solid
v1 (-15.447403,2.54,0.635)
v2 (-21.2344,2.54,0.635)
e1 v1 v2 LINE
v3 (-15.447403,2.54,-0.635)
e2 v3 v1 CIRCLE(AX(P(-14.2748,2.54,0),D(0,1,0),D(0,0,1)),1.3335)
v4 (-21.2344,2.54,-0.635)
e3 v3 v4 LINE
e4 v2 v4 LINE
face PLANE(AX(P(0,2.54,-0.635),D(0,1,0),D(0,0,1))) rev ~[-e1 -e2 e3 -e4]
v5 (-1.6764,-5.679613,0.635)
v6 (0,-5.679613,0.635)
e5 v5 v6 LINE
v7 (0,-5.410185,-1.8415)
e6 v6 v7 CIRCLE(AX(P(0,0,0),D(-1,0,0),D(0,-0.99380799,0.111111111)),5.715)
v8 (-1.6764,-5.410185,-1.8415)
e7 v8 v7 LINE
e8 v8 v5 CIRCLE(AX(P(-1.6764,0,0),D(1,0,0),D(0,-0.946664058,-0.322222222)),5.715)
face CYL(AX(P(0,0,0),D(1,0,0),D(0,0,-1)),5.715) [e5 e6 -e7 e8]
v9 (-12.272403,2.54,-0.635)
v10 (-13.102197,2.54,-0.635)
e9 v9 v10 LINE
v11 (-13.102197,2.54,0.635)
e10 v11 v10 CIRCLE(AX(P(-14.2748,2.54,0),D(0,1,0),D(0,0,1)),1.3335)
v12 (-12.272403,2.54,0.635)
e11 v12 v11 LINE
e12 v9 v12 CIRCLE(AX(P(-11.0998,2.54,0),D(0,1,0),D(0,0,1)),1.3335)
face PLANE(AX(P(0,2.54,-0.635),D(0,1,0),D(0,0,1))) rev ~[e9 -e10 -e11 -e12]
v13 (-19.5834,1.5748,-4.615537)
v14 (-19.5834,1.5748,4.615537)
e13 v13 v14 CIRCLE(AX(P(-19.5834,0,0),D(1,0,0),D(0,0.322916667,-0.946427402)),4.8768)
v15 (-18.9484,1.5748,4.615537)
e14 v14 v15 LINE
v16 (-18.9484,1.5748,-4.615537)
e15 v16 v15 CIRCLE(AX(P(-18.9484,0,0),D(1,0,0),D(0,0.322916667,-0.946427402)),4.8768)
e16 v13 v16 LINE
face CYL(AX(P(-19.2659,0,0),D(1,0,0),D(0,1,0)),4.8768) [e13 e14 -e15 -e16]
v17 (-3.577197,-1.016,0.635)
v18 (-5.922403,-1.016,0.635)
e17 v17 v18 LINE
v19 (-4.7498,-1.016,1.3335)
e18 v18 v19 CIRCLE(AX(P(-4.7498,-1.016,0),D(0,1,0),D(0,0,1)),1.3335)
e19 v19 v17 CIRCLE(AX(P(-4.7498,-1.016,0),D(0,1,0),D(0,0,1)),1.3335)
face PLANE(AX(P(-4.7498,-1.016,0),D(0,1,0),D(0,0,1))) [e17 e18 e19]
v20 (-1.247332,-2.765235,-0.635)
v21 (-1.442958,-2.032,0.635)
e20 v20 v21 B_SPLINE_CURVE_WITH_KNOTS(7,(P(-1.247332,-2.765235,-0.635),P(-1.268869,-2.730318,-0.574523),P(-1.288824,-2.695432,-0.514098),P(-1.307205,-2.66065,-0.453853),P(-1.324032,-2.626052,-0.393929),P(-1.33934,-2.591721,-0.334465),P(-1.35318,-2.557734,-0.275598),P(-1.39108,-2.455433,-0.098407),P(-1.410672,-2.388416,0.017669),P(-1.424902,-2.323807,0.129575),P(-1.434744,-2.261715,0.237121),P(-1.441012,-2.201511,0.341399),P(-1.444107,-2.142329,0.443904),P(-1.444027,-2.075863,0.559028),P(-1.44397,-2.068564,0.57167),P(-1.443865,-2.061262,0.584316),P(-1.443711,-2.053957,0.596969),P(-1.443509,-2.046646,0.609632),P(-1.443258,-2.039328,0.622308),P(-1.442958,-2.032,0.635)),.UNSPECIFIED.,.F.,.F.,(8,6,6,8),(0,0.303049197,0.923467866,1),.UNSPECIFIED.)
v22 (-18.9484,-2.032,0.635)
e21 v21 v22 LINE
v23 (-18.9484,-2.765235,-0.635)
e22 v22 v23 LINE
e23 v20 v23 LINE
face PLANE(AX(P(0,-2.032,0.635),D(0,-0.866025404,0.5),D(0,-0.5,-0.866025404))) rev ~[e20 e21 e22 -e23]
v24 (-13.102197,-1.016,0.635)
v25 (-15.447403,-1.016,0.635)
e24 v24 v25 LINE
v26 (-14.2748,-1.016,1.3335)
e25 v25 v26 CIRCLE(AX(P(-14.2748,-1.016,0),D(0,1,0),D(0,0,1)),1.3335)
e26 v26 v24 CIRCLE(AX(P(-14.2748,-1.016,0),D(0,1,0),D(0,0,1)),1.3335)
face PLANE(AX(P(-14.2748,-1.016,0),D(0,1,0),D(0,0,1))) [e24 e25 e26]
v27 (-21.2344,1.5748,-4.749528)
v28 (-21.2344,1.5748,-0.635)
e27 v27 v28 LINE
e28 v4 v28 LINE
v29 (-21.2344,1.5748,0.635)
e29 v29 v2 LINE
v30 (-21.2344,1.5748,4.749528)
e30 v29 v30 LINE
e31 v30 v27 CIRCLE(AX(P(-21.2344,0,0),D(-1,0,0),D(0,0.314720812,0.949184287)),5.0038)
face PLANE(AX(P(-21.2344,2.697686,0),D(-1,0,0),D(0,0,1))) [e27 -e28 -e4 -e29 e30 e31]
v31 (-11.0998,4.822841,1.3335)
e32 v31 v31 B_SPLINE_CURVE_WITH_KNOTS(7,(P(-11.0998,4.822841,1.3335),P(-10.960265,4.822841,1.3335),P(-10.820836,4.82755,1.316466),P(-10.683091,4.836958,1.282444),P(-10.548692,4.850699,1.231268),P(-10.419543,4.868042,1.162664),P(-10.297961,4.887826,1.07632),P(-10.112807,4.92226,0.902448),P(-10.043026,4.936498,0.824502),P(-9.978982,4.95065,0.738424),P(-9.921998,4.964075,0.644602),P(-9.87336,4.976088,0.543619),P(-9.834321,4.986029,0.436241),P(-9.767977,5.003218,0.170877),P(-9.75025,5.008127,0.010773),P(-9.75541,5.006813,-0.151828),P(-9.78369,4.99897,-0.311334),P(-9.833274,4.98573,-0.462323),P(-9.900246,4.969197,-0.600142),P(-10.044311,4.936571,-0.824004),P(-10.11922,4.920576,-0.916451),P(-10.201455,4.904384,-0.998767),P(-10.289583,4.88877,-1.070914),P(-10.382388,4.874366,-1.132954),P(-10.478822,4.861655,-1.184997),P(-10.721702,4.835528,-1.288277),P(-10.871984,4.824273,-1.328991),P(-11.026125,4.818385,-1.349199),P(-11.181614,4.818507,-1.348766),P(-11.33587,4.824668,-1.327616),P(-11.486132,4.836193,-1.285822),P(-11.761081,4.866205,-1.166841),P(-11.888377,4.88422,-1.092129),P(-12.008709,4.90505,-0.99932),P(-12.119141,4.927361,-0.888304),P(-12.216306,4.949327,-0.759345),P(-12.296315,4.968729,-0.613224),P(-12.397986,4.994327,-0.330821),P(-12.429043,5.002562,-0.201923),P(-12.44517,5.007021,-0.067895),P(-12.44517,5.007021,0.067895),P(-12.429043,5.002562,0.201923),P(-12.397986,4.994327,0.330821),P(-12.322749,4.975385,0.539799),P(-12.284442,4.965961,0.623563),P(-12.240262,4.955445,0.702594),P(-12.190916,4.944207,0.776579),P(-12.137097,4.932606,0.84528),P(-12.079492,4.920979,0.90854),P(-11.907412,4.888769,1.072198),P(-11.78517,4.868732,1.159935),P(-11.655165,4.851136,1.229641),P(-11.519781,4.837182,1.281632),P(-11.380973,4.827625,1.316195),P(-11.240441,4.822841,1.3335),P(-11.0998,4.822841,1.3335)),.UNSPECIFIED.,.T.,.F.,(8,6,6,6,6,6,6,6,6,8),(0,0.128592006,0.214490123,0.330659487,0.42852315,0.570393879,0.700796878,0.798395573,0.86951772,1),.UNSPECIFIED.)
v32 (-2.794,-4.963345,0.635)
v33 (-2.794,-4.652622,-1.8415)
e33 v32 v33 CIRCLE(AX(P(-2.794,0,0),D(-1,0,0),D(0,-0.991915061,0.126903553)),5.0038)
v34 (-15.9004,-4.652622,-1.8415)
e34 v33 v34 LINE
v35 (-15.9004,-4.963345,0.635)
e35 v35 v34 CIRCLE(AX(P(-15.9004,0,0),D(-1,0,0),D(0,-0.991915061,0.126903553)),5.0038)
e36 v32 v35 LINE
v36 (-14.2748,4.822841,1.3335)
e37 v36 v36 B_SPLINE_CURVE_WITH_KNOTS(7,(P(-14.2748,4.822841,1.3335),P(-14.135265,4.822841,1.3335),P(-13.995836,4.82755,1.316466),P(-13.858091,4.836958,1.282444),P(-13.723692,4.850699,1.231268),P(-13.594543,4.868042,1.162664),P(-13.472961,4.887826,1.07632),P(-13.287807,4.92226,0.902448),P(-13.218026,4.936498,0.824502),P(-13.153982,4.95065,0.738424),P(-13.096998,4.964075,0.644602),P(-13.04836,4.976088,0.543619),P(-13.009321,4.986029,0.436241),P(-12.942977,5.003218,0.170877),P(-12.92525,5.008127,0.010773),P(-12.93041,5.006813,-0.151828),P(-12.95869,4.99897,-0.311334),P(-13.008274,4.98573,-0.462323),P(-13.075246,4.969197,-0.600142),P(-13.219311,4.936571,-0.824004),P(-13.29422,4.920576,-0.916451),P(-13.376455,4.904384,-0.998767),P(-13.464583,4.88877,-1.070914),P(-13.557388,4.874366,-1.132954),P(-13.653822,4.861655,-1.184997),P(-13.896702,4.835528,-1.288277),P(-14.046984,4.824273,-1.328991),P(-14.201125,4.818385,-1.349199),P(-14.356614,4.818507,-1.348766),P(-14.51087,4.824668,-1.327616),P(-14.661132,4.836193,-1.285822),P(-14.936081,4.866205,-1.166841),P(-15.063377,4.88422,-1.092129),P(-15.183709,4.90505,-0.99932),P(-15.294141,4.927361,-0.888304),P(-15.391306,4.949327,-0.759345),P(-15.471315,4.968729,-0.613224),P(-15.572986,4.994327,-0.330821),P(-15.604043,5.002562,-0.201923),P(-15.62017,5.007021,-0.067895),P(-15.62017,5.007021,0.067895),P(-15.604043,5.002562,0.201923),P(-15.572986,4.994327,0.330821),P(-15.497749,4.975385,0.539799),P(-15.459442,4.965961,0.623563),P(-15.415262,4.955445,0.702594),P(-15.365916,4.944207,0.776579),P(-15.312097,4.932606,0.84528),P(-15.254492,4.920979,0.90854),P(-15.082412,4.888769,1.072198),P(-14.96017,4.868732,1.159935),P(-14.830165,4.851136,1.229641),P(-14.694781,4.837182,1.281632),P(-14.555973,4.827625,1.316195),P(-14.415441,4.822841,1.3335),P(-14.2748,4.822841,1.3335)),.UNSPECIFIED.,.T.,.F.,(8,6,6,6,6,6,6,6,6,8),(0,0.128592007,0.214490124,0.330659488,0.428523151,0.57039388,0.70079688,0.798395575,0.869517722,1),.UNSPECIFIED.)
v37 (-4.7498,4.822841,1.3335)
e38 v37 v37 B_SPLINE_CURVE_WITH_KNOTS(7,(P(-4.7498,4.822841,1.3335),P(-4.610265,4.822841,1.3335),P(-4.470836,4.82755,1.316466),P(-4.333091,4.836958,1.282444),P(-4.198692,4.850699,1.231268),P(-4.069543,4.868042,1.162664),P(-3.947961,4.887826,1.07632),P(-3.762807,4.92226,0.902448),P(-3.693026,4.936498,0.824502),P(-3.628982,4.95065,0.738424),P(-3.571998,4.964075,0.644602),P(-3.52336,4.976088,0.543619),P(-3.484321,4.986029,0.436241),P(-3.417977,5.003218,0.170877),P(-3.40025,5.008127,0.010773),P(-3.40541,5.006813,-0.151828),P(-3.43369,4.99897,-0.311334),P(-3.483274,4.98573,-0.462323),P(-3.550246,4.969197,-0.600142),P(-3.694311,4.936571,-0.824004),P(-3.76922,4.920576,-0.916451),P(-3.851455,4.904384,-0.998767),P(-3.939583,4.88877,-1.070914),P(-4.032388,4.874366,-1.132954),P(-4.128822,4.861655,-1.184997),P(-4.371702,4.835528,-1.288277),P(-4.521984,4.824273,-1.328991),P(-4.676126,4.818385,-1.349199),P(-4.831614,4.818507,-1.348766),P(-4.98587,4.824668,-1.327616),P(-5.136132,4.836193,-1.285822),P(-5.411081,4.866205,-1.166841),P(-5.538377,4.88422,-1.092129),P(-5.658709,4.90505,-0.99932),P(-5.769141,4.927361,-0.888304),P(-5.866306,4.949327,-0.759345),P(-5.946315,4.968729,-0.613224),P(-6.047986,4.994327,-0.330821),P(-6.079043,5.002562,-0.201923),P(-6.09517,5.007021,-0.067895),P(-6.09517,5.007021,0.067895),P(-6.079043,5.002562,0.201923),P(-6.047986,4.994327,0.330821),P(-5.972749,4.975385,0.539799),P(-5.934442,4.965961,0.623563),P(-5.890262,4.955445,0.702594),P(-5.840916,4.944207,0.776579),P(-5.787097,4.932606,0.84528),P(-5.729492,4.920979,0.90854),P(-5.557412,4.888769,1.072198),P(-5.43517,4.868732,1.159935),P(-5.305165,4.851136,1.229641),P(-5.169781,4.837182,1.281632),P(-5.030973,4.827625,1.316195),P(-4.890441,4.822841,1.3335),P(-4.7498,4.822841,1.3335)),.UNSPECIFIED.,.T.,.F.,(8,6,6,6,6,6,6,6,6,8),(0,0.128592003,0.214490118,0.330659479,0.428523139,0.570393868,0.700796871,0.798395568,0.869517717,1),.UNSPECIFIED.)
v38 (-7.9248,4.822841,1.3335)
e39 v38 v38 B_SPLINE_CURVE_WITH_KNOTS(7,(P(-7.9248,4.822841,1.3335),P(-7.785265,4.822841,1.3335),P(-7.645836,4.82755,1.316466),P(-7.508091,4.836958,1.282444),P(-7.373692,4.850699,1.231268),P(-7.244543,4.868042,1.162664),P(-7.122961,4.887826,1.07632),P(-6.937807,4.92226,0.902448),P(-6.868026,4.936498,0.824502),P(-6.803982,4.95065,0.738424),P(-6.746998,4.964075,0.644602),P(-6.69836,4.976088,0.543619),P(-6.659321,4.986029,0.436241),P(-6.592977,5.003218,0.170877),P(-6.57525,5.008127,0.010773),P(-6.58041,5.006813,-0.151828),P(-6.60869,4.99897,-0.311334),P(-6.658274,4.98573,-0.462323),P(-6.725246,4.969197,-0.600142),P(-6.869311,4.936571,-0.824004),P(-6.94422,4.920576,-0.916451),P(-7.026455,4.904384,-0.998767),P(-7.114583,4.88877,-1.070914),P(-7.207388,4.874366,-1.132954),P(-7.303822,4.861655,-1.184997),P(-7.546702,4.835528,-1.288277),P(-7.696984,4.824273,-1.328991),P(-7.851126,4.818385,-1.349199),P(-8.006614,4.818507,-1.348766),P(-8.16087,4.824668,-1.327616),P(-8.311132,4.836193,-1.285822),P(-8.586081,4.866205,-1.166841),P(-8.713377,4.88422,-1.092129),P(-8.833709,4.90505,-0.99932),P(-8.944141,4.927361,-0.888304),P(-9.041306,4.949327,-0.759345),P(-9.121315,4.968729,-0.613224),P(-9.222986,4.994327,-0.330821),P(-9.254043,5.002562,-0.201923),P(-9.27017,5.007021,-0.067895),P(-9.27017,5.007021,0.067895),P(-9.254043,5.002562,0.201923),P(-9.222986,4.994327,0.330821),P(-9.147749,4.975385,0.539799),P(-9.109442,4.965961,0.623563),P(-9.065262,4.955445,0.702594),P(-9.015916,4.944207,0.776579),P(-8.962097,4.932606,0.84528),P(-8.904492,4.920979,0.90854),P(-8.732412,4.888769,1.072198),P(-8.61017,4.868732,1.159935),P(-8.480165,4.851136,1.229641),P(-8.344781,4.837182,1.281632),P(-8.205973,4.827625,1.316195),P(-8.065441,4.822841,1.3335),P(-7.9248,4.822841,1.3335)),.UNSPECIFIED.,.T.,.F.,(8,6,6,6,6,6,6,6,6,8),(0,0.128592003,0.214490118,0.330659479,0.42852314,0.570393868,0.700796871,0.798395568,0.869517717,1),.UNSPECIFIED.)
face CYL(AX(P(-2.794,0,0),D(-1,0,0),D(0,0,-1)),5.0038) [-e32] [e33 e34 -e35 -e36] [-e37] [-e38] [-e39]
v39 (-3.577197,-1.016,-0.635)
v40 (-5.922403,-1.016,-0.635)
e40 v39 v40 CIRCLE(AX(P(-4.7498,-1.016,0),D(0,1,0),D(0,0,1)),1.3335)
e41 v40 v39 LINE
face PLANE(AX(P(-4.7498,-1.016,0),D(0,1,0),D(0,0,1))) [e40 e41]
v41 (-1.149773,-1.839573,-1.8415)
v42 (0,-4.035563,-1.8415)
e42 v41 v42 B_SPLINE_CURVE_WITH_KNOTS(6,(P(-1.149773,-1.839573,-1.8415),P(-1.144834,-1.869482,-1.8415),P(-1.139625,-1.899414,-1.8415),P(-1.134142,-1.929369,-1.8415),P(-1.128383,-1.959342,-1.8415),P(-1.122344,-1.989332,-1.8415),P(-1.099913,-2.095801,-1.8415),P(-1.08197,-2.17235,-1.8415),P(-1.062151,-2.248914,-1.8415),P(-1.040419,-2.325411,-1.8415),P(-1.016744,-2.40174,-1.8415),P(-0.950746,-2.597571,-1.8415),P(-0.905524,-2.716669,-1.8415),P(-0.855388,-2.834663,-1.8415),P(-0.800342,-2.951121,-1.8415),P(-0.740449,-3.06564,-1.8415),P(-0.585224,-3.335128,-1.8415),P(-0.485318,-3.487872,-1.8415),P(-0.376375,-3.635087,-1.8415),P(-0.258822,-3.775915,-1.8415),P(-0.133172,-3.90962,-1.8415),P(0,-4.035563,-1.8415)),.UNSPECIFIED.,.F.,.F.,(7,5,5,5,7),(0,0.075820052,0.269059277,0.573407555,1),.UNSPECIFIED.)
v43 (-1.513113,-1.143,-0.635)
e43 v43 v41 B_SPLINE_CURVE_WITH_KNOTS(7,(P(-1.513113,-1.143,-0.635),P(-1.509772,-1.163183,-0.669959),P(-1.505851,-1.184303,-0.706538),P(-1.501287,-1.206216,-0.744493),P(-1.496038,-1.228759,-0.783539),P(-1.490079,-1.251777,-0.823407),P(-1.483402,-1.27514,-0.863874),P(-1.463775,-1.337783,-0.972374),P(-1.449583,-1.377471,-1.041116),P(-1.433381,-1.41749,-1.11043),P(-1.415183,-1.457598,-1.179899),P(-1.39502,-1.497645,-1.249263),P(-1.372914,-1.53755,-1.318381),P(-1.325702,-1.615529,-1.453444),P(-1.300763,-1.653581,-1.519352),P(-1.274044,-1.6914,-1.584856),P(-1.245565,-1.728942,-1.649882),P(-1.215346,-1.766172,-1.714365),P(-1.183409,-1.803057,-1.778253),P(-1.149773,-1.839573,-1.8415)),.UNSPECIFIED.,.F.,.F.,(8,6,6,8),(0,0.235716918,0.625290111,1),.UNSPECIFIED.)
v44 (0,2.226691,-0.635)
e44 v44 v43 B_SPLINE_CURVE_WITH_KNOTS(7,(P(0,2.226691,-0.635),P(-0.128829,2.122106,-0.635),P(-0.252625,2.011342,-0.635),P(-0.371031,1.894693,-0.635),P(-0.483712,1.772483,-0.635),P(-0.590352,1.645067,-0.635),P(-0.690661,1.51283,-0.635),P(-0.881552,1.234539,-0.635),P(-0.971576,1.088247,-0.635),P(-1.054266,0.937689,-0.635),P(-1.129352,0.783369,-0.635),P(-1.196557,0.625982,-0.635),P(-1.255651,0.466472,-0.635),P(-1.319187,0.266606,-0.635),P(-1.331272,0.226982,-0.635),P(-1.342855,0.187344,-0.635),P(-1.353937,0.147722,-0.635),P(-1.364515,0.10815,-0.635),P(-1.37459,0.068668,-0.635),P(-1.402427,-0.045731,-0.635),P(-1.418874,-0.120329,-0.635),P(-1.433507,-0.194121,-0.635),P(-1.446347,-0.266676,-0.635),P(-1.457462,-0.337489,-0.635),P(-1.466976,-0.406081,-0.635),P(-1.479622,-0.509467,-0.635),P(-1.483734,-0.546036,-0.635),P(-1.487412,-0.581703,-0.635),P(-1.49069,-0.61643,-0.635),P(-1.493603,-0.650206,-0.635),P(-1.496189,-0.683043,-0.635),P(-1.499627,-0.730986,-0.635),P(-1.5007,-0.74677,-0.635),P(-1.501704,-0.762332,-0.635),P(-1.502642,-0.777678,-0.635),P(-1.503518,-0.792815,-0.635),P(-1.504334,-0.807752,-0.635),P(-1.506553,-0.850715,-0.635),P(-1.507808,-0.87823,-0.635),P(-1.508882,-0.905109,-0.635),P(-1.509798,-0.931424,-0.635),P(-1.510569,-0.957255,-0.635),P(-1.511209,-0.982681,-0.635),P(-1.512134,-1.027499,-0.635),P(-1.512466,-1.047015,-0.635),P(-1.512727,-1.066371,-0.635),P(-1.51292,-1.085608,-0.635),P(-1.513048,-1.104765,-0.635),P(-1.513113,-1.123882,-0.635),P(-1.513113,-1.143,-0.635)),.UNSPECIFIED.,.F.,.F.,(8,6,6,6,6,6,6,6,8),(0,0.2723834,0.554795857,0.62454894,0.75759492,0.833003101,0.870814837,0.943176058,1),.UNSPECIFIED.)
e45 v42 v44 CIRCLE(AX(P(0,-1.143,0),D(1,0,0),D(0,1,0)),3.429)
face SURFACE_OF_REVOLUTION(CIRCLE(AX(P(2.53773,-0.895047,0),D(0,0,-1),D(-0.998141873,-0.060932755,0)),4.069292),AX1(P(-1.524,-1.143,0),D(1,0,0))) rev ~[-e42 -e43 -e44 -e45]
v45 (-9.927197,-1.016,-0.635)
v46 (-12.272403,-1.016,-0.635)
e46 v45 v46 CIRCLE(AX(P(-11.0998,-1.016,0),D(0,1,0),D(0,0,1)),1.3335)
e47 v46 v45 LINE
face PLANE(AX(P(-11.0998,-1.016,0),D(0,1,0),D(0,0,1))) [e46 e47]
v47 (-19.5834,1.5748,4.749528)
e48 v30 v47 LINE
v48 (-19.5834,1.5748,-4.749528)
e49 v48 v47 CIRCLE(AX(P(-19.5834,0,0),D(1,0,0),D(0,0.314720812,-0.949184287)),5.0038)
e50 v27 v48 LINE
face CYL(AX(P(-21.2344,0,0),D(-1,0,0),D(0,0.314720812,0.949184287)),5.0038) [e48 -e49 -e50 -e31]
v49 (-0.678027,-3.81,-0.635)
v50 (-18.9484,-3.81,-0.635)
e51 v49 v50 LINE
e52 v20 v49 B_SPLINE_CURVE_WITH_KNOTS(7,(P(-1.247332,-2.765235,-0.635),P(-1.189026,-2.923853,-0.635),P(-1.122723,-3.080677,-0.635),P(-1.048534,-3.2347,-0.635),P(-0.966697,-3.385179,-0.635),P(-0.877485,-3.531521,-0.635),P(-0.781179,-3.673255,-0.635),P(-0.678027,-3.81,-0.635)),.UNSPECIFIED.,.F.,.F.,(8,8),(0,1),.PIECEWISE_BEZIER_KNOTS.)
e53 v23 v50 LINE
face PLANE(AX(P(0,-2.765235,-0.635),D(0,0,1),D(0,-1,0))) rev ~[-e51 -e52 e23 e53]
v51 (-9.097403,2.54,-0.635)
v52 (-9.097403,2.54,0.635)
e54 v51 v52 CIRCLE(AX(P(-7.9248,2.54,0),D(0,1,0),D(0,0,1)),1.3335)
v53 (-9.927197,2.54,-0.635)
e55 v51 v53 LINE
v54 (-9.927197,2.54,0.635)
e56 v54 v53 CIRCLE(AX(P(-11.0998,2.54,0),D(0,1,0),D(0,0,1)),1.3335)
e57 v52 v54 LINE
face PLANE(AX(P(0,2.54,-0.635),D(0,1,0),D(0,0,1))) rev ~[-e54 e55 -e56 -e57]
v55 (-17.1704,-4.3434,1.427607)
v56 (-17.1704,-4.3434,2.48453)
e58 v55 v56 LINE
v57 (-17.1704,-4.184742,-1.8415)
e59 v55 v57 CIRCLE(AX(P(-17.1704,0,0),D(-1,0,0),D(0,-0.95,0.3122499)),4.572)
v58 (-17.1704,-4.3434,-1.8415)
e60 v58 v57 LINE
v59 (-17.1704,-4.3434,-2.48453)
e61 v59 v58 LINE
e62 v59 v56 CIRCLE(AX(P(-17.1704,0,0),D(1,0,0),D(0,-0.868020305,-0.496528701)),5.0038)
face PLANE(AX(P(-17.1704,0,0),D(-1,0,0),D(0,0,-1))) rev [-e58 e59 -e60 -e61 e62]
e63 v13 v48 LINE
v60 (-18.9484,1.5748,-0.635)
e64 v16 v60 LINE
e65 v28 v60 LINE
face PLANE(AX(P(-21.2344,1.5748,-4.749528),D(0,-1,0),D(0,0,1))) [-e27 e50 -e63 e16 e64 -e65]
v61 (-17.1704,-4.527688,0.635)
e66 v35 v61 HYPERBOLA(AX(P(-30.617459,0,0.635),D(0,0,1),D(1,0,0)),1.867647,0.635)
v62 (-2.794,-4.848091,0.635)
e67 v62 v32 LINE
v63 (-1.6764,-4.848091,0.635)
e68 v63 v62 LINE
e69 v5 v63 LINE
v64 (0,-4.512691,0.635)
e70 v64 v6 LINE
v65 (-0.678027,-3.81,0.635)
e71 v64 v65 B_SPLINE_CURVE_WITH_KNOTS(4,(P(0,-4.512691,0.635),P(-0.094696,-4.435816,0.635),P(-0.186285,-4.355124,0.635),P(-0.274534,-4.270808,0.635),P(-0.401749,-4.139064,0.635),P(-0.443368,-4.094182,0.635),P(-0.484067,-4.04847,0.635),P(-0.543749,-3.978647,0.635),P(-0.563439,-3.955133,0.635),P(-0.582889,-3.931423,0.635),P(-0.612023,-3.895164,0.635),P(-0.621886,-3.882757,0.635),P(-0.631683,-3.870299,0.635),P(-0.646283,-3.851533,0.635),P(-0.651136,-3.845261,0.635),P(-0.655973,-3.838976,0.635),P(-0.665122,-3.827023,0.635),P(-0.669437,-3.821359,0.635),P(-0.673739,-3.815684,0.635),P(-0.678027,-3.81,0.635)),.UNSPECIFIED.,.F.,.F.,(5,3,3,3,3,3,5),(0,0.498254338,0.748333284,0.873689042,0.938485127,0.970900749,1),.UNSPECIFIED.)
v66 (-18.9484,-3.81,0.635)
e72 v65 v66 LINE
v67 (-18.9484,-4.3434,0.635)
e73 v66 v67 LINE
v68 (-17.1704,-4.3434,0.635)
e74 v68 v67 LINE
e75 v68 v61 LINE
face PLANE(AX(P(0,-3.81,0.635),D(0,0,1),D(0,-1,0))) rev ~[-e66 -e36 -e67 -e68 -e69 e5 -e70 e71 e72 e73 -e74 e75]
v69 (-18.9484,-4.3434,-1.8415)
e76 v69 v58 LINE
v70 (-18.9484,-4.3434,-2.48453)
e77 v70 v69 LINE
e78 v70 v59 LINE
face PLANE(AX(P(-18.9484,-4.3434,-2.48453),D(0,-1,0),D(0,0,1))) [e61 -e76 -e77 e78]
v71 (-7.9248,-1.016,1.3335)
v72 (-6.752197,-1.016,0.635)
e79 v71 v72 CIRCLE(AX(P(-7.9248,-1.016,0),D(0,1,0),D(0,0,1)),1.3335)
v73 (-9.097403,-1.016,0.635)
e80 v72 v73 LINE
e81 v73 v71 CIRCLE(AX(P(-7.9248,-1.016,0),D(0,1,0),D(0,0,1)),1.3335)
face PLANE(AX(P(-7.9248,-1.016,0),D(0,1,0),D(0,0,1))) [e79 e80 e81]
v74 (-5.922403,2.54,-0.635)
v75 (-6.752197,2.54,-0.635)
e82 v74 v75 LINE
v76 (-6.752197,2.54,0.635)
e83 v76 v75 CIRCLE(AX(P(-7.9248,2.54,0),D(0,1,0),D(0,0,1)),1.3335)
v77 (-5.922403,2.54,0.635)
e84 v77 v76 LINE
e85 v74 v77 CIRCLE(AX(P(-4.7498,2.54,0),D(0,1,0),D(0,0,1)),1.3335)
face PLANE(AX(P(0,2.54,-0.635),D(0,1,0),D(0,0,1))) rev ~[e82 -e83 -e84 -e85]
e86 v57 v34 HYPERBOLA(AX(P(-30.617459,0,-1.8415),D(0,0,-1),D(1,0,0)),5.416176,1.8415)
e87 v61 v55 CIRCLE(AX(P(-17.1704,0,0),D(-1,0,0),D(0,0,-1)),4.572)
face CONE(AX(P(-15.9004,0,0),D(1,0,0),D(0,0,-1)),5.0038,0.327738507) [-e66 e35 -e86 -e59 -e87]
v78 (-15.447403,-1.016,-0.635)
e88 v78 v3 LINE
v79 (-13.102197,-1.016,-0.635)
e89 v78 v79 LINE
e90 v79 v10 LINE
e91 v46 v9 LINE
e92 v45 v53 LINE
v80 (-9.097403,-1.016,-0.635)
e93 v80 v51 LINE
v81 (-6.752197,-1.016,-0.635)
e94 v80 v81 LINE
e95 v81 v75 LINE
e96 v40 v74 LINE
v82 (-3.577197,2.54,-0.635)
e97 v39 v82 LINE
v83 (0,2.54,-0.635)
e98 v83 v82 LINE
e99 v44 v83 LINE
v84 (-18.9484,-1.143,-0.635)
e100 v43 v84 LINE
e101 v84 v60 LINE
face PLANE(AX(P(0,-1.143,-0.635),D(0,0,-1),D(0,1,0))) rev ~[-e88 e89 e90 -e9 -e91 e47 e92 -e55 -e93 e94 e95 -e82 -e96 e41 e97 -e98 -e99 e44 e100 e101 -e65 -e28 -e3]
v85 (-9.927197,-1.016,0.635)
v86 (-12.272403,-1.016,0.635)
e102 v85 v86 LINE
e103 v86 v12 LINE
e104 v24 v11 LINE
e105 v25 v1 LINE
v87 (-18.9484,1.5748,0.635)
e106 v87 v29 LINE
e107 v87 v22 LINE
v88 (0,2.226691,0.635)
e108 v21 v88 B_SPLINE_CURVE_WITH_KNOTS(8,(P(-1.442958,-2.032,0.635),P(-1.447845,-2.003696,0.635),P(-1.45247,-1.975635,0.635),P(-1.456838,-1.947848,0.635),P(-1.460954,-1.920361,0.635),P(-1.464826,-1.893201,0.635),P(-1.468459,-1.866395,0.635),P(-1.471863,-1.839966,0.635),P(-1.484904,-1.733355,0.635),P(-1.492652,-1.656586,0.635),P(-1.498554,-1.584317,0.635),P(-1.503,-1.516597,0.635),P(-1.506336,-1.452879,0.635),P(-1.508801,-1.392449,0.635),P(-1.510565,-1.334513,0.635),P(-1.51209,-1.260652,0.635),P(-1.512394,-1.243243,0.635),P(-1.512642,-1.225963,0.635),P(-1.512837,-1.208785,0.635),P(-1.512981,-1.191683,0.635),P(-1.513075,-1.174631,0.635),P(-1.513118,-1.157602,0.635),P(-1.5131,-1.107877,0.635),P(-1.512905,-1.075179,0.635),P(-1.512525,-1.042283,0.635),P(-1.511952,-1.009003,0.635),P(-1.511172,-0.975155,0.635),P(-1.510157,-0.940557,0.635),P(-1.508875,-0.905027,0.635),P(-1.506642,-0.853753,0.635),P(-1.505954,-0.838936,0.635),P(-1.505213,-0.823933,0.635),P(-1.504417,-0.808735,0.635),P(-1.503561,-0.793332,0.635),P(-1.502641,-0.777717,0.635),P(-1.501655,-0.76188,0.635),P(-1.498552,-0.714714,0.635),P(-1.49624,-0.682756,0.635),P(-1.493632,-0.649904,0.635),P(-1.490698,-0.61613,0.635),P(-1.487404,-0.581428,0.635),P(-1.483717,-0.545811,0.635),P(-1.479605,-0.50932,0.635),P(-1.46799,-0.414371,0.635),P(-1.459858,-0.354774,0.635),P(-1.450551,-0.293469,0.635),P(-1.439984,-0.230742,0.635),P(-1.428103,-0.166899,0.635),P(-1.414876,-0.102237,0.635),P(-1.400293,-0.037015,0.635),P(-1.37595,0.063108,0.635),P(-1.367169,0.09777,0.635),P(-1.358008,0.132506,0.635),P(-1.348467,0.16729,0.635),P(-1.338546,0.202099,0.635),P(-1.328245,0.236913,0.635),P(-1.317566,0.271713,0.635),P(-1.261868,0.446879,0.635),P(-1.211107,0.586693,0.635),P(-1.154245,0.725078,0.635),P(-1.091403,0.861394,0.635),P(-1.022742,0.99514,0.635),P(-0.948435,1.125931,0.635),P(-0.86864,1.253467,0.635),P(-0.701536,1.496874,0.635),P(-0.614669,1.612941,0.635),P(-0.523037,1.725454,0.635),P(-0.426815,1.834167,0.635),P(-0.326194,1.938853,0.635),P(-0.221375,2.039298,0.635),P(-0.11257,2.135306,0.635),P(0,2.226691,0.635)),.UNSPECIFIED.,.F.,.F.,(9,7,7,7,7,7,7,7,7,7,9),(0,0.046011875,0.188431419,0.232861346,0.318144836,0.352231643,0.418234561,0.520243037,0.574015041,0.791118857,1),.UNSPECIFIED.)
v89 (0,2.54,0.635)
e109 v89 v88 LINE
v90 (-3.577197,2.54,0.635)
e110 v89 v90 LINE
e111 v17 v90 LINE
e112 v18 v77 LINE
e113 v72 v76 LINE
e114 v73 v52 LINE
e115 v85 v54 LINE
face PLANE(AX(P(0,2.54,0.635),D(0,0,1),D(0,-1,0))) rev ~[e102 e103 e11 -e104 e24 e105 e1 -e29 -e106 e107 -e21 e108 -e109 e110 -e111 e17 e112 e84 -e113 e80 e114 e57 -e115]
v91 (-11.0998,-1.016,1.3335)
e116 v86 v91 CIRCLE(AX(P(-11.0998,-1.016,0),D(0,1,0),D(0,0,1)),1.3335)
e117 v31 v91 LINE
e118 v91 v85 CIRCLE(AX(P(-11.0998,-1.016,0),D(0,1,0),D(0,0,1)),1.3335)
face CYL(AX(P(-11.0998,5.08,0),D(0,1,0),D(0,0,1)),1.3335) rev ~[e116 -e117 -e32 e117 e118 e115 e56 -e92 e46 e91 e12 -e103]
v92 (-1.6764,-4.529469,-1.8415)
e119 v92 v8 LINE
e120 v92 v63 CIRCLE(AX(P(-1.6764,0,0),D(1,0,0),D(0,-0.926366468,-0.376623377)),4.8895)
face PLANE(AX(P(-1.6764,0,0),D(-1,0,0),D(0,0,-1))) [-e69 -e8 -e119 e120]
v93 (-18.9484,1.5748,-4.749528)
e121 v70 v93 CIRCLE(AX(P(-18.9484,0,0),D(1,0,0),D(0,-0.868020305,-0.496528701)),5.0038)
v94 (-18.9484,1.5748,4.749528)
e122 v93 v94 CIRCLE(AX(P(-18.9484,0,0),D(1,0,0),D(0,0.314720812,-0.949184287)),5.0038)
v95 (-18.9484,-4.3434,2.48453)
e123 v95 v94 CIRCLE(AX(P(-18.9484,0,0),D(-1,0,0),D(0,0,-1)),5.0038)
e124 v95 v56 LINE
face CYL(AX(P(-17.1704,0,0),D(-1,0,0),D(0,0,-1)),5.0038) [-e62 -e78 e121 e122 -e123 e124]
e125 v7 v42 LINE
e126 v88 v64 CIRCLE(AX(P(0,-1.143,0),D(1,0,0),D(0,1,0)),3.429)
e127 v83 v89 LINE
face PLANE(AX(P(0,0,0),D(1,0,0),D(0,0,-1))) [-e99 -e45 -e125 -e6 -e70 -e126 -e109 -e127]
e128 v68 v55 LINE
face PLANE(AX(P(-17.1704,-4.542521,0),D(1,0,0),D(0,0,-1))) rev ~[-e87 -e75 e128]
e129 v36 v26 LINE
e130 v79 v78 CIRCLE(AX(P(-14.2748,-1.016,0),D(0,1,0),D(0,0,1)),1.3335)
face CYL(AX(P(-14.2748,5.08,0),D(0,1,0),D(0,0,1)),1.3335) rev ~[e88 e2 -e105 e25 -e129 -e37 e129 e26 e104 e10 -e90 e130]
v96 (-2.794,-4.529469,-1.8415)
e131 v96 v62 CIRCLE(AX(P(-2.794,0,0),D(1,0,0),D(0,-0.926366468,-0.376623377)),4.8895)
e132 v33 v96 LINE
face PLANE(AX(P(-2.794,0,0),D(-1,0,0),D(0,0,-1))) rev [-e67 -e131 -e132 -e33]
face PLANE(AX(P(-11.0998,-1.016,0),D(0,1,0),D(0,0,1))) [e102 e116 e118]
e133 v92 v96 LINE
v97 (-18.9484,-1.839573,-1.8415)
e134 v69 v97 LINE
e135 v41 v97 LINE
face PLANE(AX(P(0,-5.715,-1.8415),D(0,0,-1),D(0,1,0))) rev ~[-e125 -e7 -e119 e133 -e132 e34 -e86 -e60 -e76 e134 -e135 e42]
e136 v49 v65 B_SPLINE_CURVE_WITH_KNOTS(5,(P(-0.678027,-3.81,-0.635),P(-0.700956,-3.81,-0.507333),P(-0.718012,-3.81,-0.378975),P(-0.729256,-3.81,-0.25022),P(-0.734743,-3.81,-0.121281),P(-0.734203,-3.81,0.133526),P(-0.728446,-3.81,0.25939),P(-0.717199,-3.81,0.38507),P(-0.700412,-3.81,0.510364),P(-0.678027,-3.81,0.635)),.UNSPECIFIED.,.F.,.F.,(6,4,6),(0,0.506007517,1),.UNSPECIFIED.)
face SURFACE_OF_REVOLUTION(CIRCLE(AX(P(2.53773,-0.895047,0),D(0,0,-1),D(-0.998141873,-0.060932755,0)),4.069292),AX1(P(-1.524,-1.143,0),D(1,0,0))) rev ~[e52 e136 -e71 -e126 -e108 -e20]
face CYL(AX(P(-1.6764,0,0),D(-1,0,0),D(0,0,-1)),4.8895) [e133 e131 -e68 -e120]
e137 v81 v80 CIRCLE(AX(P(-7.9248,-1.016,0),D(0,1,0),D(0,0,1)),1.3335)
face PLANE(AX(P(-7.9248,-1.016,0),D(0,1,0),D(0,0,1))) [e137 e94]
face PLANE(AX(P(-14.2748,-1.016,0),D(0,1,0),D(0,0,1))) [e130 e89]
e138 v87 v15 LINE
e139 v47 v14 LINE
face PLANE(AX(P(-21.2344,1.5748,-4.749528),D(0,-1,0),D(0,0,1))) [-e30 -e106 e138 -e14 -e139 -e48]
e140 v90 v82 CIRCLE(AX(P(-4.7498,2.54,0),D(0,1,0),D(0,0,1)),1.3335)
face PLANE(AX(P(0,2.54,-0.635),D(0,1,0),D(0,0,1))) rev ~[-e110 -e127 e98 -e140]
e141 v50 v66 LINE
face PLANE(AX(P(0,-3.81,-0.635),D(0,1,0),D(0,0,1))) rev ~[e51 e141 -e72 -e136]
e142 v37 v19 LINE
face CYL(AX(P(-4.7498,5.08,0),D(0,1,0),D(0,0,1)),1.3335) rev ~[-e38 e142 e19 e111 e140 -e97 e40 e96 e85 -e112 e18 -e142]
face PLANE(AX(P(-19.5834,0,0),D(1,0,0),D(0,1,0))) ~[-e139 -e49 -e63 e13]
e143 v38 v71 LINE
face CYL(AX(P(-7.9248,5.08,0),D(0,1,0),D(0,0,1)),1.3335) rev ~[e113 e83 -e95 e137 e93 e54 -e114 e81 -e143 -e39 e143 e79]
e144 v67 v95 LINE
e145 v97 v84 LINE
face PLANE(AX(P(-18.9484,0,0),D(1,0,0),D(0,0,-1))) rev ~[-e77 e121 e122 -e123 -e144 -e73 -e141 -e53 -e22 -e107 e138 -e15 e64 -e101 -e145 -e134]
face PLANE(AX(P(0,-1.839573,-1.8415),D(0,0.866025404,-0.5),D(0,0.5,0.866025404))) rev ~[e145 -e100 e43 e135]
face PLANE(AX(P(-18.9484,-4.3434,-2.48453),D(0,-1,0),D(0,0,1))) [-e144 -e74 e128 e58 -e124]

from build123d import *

# Parameters (mm, degrees)
SKETCH2_R           = 5.715
BOSS_EXTRUDE1_DEPTH = 18.9484
BOSS_EXTRUDE2_START = 2.286
BOSS_EXTRUDE2_DEPTH = 2.286
SKETCH6_W           = 0.635
SKETCH6_H           = 0.127
CUT_EXTRUDE2_DEPTH  = 1.778
CUT_EXTRUDE3_DEPTH  = 23.720523615
SKETCH12_R          = 1.3335
CUT_EXTRUDE4_DEPTH  = 6.096


with BuildPart() as part:
    # Sketch2 → Boss-Extrude1 (new body)
    with BuildSketch(Plane(origin=(0, 0, 0), x_dir=(0, 0, -1), z_dir=(1, 0, 0))):
        Circle(SKETCH2_R)
    extrude(amount=-BOSS_EXTRUDE1_DEPTH)

    # Sketch3 → Cut-Revolve1 (revolve, cut)
    with BuildSketch(Plane.XY, mode=Mode.PRIVATE) as cut_revolve1_sk:
        Polygon((-18.9484, 5.715), (-1.6764, 5.715), (-1.6764, 4.8895), (-2.794, 4.8895), (-2.794, 5.0038), (-15.9004, 5.0038), (-17.1704, 4.572), (-17.1704, 5.0038), (-18.9484, 5.0038), align=None)
    revolve(cut_revolve1_sk.sketch.rotate(Axis((0, 0, 0), (-1, 0, 0)), 90), axis=Axis((0, 0, 0), (-1, 0, 0)), mode=Mode.SUBTRACT)

    # Sketch5 → Boss-Extrude2 (add)
    with BuildSketch(Plane.ZY.offset(18.9484).offset(BOSS_EXTRUDE2_START)):
        with BuildLine():
            Line((-4.749528334, 1.5748), (4.749528334, 1.5748))
            ThreePointArc((4.749528334, 1.5748), (0, 5.0038), (-4.749528334, 1.5748))
        make_face()
    extrude(amount=-BOSS_EXTRUDE2_DEPTH)

    # Sketch6 → Cut-Revolve2 (revolve, cut)
    with BuildSketch(Plane.XY):
        with Locations((-19.2659, 4.9403)):
            Rectangle(SKETCH6_W, SKETCH6_H)
    revolve(axis=Axis((0, 0, 0), (1, 0, 0)), mode=Mode.SUBTRACT)

    # Sketch7 → Cut-Extrude2 (cut)
    with BuildSketch(Plane.ZY.offset(18.9484)):
        with BuildLine():
            Line((-2.484530314, -4.3434), (2.484530314, -4.3434))
            ThreePointArc((2.484530314, -4.3434), (0, -5.0038), (-2.484530314, -4.3434))
        make_face()
    extrude(amount=-CUT_EXTRUDE2_DEPTH, mode=Mode.SUBTRACT)

    # Sketch8 → Cut-Extrude3 (cut, through all)
    with BuildSketch(Plane(origin=(0, 0, 0), x_dir=(0, 0, -1), z_dir=(1, 0, 0))):
        Polygon((-0.635, -5.715), (1.8415, -5.715), (1.8415, -1.8395731), (0.635, -1.143), (0.635, 2.54), (-0.635, 2.54), (-0.635, -2.032), (0.635, -2.765234842), (0.635, -3.81), (-0.635, -3.81), align=None)
    extrude(amount=-CUT_EXTRUDE3_DEPTH, mode=Mode.SUBTRACT)

    # Sketch12 → Cut-Extrude4 (cut)
    with BuildSketch(Plane(origin=(0, 5.08, 0), x_dir=(1, 0, 0), z_dir=(0, 1, 0))):
        with Locations(Location((-4.7498, 0, 0), (0, 0, 270))):
            Circle(SKETCH12_R)
        with Locations(Location((-7.9248, 0, 0), (0, 0, 270))):
            Circle(SKETCH12_R)
        with Locations(Location((-11.0998, 0, 0), (0, 0, 270))):
            Circle(SKETCH12_R)
        with Locations(Location((-14.2748, 0, 0), (0, 0, 270))):
            Circle(SKETCH12_R)
    extrude(amount=-CUT_EXTRUDE4_DEPTH, mode=Mode.SUBTRACT)

    # Sketch13 → Cut-Revolve3 (revolve, cut)
    with BuildSketch(Plane.XY):
        with BuildLine():
            Line((0, 2.286), (0, -1.143))
            Line((0, -1.143), (-1.524, -1.143))
            ThreePointArc((-1.524, -1.143), (-1.180835312, 0.757649028), (0, 2.286))
        make_face()
    revolve(axis=Axis((-1.524, -1.143, 0), (1, 0, 0)), mode=Mode.SUBTRACT)


solid = part.part
